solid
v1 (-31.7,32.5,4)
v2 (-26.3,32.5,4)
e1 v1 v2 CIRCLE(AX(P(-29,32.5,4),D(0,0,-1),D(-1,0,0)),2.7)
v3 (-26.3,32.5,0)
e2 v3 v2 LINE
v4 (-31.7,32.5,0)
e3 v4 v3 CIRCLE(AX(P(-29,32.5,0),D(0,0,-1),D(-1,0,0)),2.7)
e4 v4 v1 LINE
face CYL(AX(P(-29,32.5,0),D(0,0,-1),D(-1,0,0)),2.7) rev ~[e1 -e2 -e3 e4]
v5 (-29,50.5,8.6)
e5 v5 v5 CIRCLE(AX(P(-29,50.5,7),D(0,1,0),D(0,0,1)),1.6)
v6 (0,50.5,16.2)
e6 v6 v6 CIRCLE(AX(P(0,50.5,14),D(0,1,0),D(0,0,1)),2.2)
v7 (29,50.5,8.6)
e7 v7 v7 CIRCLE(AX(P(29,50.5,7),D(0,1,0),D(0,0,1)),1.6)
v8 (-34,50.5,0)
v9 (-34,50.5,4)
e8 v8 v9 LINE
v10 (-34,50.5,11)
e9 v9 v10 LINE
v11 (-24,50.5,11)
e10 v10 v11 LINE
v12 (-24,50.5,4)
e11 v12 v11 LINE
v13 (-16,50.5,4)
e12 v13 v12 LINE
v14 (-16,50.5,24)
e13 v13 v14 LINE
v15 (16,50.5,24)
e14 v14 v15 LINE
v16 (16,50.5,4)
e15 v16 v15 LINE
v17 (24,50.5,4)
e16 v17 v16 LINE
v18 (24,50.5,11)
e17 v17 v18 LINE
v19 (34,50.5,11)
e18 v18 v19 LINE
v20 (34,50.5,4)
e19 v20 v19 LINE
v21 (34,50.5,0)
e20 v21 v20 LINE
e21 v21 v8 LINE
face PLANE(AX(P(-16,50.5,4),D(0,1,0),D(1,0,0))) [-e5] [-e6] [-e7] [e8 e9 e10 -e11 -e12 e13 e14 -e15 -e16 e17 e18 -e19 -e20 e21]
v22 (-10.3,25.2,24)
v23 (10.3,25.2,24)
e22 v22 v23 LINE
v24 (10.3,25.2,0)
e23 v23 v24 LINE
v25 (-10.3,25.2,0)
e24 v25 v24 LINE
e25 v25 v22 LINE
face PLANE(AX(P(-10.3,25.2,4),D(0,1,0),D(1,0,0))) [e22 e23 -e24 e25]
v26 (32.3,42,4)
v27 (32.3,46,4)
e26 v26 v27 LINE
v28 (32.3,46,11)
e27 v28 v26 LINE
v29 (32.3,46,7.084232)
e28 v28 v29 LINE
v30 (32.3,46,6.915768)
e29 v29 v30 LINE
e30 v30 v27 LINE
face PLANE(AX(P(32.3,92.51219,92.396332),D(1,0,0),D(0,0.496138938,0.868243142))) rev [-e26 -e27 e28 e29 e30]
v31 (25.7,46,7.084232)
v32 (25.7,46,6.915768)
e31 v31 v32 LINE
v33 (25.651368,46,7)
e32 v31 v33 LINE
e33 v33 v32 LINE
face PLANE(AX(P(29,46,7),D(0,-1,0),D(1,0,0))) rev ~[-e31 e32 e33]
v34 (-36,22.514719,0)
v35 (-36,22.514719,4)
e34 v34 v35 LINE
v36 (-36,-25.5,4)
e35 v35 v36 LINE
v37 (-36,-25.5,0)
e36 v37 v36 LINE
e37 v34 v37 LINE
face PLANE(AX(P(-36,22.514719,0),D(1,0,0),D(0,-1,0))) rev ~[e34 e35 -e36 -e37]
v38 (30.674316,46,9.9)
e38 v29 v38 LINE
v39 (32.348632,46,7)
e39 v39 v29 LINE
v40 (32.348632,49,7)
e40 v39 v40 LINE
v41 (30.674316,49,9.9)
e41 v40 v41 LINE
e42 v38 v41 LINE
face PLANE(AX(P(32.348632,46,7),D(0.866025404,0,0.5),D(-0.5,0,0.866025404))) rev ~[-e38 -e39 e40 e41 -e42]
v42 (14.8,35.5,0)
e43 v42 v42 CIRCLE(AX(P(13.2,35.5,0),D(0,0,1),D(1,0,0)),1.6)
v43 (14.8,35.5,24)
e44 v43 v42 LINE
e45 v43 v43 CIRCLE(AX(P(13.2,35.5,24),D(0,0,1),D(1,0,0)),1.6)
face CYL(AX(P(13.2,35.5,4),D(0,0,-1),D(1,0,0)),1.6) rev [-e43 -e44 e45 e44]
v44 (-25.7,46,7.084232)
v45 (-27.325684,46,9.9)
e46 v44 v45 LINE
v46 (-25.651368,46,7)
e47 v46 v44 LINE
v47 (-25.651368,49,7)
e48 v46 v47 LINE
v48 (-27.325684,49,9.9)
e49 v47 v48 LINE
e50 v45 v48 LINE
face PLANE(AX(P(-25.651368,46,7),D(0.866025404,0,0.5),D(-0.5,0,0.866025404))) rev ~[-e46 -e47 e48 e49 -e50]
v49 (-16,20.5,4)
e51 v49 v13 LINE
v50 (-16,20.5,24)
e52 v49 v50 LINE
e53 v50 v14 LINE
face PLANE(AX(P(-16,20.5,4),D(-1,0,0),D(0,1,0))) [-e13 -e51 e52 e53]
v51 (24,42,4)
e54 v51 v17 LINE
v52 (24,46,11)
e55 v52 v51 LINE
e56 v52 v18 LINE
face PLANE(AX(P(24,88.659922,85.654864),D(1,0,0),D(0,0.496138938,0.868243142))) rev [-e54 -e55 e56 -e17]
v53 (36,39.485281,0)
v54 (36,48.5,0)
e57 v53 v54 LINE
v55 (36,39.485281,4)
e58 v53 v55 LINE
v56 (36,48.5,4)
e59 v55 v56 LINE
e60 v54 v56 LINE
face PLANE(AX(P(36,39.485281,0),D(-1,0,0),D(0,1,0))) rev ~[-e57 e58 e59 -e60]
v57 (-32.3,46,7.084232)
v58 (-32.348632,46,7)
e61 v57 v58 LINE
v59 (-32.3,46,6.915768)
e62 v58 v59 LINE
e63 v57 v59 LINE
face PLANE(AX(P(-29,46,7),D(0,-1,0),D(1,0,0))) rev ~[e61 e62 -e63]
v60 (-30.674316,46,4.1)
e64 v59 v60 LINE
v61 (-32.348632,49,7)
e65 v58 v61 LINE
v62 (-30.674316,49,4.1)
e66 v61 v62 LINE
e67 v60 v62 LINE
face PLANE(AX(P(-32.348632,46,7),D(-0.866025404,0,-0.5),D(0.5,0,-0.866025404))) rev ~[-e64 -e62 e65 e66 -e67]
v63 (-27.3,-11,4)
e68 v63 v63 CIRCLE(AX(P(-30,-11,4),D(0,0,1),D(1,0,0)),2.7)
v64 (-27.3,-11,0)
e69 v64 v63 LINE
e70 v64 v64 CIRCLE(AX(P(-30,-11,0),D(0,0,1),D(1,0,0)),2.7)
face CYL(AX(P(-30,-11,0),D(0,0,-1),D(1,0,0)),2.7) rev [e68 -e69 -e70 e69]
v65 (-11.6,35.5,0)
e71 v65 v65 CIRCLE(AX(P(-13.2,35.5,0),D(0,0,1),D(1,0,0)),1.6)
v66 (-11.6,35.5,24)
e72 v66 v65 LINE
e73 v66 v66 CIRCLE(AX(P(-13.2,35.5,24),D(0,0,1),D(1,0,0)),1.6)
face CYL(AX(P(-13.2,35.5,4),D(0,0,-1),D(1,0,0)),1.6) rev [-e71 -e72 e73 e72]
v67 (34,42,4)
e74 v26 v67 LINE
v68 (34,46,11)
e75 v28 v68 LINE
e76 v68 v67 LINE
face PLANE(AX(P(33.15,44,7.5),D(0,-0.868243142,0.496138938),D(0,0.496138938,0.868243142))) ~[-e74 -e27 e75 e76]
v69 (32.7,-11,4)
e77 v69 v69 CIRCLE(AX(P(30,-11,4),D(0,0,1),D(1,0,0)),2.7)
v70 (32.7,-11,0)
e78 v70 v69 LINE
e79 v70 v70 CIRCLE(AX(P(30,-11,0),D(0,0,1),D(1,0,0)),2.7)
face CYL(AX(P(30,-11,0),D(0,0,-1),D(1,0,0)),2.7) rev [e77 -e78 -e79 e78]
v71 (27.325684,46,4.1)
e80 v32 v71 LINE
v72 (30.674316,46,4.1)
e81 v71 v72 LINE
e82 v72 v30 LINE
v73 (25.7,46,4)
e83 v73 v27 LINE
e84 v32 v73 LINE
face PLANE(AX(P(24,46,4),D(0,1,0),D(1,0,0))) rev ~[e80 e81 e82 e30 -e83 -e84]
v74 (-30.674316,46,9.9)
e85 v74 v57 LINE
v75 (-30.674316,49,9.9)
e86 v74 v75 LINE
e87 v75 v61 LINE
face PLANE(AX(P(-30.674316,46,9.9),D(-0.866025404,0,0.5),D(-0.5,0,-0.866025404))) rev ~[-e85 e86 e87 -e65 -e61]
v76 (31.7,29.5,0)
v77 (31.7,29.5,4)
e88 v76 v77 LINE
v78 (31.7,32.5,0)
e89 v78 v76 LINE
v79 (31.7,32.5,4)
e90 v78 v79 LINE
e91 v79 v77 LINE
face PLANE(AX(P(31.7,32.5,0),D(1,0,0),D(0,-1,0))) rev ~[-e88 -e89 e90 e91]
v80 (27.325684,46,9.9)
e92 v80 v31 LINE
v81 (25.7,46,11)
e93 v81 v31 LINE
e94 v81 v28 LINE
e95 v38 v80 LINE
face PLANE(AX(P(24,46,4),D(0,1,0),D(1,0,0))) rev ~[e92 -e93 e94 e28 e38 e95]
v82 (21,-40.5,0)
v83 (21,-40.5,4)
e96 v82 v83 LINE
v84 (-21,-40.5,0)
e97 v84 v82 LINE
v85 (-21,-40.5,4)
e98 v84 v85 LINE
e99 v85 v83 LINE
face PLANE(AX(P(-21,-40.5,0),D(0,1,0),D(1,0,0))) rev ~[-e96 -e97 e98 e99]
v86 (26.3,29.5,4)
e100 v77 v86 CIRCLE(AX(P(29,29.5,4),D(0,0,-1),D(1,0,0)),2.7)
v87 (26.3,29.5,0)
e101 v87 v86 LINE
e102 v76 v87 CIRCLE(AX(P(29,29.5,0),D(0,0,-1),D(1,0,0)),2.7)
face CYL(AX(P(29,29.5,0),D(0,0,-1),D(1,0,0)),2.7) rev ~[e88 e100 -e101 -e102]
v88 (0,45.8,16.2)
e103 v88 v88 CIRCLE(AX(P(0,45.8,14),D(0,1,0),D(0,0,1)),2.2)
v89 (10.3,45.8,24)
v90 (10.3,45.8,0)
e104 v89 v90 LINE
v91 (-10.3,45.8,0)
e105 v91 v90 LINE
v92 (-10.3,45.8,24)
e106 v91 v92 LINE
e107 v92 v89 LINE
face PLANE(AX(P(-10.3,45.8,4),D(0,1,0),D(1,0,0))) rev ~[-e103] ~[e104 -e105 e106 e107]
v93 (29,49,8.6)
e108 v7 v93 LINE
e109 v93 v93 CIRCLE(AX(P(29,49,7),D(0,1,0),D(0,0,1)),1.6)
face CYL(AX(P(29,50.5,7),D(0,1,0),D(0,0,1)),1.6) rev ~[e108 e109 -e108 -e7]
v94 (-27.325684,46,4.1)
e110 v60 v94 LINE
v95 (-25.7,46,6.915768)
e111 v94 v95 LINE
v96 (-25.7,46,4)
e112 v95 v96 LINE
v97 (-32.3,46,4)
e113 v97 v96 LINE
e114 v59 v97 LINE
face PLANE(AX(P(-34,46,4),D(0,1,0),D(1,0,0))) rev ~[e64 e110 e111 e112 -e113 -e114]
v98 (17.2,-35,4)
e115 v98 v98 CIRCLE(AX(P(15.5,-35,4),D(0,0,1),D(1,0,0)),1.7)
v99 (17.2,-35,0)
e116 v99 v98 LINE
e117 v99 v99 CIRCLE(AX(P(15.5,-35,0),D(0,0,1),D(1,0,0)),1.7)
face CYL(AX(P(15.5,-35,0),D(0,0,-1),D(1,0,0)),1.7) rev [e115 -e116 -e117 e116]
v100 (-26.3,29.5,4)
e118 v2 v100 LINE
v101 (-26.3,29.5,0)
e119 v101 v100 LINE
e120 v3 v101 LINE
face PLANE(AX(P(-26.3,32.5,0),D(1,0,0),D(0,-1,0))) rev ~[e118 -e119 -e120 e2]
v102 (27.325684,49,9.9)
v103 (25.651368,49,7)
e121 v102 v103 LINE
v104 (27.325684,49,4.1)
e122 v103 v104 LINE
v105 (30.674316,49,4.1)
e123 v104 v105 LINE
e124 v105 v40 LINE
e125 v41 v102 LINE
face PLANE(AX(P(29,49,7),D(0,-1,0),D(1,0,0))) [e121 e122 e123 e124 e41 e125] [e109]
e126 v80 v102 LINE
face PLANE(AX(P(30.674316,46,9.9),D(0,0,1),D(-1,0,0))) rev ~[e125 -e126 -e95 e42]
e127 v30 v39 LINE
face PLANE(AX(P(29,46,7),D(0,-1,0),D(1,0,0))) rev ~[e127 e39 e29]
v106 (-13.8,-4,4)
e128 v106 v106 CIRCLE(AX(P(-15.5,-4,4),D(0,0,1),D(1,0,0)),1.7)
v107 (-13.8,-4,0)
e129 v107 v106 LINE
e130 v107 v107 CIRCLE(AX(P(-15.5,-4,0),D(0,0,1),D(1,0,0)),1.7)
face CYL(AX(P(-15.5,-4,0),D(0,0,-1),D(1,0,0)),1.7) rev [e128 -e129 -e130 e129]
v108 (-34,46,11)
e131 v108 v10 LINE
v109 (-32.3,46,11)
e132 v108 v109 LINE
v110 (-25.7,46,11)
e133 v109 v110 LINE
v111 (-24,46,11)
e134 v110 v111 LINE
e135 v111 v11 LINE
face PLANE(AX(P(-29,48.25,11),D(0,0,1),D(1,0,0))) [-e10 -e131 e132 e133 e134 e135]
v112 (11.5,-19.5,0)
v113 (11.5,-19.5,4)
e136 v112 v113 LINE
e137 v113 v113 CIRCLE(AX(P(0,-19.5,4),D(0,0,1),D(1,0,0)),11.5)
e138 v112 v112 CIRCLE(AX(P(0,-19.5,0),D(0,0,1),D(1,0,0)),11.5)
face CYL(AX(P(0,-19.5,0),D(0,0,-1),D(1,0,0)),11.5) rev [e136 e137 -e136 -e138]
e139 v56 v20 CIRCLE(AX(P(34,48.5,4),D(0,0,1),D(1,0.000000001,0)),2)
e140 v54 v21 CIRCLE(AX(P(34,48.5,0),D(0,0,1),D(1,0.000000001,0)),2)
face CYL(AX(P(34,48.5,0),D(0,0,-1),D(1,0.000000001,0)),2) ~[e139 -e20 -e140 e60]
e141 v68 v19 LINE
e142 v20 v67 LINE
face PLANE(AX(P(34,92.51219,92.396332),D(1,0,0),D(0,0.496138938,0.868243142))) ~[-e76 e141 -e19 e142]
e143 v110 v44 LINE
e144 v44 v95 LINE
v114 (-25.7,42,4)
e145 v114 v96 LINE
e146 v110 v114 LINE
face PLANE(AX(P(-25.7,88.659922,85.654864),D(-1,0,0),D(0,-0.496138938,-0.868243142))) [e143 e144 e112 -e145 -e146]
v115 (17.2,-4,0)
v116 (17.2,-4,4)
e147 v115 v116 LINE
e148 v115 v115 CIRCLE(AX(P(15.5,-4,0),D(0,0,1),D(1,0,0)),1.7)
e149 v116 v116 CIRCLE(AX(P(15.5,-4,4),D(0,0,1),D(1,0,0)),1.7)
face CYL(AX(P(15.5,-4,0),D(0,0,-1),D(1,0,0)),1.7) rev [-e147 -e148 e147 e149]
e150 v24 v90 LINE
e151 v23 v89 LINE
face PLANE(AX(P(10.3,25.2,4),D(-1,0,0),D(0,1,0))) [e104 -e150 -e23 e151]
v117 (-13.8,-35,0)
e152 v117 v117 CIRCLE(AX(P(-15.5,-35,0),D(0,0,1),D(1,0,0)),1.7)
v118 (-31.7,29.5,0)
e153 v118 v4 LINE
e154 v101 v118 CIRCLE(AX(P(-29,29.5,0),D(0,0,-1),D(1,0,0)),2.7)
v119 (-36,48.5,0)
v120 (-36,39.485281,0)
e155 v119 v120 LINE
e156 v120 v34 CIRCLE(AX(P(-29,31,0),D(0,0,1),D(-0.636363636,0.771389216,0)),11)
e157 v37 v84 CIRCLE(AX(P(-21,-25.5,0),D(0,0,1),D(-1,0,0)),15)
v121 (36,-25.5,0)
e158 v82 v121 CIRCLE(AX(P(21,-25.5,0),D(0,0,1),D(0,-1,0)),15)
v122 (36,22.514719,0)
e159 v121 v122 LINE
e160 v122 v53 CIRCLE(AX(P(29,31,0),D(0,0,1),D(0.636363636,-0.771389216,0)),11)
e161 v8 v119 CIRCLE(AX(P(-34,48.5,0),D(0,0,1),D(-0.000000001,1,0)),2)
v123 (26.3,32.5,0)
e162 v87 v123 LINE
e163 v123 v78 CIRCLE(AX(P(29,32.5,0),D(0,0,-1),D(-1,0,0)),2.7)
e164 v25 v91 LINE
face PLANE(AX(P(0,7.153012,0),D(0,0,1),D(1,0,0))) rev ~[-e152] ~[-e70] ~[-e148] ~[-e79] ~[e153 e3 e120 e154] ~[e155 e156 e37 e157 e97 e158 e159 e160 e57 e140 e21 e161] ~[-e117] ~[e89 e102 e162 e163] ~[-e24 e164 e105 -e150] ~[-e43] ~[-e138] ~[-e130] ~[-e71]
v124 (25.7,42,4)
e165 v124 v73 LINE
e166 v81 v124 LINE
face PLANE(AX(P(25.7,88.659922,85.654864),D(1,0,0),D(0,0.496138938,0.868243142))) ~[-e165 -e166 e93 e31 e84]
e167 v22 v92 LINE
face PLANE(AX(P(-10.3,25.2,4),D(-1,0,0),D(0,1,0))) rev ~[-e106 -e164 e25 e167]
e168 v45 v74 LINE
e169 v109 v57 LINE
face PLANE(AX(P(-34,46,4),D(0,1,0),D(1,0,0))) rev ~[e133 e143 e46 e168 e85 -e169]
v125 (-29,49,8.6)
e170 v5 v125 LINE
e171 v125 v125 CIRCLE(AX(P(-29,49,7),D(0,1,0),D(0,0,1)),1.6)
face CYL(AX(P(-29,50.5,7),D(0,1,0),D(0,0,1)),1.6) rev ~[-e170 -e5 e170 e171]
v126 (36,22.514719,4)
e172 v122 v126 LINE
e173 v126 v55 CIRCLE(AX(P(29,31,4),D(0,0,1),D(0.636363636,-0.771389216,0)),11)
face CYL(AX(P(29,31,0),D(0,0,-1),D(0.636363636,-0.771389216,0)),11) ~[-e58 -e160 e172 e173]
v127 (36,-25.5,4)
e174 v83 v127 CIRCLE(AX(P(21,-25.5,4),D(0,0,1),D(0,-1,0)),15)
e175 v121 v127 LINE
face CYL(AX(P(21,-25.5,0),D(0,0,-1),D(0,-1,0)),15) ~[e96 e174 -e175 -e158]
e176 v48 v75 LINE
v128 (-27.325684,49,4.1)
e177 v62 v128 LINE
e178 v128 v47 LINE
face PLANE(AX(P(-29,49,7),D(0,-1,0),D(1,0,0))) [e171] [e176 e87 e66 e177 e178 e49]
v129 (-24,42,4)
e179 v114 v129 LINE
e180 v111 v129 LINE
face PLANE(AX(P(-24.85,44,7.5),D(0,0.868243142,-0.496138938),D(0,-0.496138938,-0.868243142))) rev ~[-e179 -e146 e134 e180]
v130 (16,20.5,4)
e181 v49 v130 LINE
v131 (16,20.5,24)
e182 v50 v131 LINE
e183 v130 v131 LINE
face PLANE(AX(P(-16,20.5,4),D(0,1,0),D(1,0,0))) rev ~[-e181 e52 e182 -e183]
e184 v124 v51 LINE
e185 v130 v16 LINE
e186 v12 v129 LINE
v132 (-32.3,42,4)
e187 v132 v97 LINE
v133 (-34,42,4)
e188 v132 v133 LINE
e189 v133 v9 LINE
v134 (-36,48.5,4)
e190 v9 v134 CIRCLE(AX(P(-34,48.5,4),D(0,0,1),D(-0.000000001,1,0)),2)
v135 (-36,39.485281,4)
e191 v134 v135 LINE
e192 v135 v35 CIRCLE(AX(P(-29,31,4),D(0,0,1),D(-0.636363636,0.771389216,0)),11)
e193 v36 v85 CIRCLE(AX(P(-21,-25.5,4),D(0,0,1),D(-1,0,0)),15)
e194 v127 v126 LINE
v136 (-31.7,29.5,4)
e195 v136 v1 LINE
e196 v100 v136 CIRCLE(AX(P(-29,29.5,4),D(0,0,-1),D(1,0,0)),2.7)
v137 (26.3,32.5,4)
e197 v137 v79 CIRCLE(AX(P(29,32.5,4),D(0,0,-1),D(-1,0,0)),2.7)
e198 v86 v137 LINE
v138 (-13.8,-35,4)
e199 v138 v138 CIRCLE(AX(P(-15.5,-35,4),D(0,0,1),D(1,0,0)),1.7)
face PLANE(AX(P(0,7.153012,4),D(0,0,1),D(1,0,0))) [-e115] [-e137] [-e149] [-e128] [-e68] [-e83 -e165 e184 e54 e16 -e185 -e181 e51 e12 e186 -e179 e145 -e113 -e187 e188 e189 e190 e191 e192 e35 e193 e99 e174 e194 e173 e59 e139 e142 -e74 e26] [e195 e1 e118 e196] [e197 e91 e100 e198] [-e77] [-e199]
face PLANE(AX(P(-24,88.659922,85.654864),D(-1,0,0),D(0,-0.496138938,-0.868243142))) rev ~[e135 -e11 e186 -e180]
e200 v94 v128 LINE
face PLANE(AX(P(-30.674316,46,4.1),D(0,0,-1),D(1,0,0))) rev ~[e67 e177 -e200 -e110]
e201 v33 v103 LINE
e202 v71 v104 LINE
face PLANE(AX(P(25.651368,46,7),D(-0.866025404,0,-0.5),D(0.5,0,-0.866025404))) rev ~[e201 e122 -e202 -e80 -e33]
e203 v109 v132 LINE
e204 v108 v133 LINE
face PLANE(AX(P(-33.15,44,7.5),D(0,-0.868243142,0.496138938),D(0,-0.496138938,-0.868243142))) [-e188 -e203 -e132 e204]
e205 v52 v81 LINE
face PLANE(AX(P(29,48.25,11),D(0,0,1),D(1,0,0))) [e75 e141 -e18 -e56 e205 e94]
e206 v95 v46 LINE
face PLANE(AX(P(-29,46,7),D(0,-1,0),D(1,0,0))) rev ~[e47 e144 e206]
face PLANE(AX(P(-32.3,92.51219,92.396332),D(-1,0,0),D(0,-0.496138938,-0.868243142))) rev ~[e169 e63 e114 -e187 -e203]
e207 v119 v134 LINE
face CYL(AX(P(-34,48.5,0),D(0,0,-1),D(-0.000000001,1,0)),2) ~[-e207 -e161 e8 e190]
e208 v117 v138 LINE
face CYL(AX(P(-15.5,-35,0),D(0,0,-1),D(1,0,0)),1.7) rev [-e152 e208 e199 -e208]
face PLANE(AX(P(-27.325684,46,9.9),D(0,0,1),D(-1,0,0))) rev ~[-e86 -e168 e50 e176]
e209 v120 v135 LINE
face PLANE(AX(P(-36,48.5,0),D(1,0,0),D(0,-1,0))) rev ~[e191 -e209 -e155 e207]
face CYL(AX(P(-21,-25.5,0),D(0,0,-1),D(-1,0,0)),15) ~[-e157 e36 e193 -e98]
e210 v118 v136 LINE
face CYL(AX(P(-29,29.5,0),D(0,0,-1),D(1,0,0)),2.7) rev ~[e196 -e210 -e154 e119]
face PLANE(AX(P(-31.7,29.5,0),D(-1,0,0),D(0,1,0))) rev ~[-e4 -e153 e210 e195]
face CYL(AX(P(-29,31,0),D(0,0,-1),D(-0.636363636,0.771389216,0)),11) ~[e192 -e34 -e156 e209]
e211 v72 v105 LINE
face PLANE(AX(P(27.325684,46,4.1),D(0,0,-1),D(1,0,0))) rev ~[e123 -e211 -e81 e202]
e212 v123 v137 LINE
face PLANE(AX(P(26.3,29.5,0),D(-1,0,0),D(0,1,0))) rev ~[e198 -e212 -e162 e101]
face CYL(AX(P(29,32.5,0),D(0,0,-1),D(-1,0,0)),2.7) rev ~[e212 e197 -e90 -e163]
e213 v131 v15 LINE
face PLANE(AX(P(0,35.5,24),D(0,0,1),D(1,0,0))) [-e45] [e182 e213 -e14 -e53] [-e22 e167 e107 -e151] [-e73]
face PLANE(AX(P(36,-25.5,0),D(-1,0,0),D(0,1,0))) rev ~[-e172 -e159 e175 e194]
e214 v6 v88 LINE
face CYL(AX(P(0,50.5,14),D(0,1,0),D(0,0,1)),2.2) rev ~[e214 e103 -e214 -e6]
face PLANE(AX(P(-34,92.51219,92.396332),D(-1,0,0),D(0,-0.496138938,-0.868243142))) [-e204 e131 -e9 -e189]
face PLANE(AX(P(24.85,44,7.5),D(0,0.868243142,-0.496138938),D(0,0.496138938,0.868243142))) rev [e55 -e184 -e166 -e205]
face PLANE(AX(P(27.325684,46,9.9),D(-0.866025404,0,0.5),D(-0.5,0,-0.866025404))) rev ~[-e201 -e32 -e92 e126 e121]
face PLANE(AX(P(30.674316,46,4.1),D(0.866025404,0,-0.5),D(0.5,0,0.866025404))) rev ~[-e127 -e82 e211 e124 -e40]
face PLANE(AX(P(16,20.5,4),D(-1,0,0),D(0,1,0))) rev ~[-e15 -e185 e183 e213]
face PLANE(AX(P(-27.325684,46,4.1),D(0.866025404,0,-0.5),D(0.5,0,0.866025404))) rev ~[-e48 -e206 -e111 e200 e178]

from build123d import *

# Parameters (mm, degrees)
SKETCH_1_R          = 1.7
SKETCH_1_R_2        = 11.5
SKETCH_1_R_3        = 2.7
SKETCH_1_R_4        = 1.6
SKETCH_1_W          = 20.6
SKETCH_1_H          = 20.6
EXTRUDE_1_DEPTH     = 4
EXTRUDE_START       = 4
SKETCH_1_3_W        = 10
SKETCH_1_3_H        = 4.5
EXTRUDE_2_DEPTH     = 7
SKETCH_1_4_W        = 32
SKETCH_1_4_H        = 30
SKETCH_1_4_R        = 1.6
SKETCH_1_4_W_2      = 20.6
SKETCH_1_4_H_2      = 20.6
EXTRUDE_3_DEPTH     = 20
RIB_1_REACH         = 94.748
SKETCH_3_WALL_W     = 195.558888446
SKETCH_3_WALL_H     = 1.7
RIB_2_REACH         = 86.984
SKETCH_4_WALL_W     = 180.029901728
SKETCH_4_WALL_H     = 1.7
CUT_EXTRUDE_1_REACH = 104.259
SKETCH_5_R          = 2.2
SKETCH_5_R_2        = 1.6
CUT_EXTRUDE_2_DEPTH = 3


with BuildPart() as part:
    # 草图1 → 凸台-拉伸1 (new body)
    with BuildSketch(Plane.XY):
        with BuildLine():
            ThreePointArc((36, 48.5), (35.414213562, 49.914213562), (34, 50.5))
            Line((34, 50.5), (-34, 50.5))
            ThreePointArc((-34, 50.5), (-35.414213562, 49.914213562), (-36, 48.5))
            Line((-36, 48.5), (-36, 39.485281374))
            ThreePointArc((-36, 39.485281374), (-40, 31), (-36, 22.514718626))
            Line((-36, 22.514718626), (-36, -25.5))
            ThreePointArc((-36, -25.5), (-31.606601718, -36.106601718), (-21, -40.5))
            Line((-21, -40.5), (21, -40.5))
            ThreePointArc((21, -40.5), (31.606601718, -36.106601718), (36, -25.5))
            Line((36, -25.5), (36, 22.514718626))
            ThreePointArc((36, 22.514718626), (40, 31), (36, 39.485281374))
            Line((36, 39.485281374), (36, 48.5))
        make_face()
        with Locations((-15.5, -35)):
            Circle(SKETCH_1_R, mode=Mode.SUBTRACT)
        with Locations((15.5, -35)):
            Circle(SKETCH_1_R, mode=Mode.SUBTRACT)
        with Locations((0, -19.5)):
            Circle(SKETCH_1_R_2, mode=Mode.SUBTRACT)
        with Locations((-30, -11)):
            Circle(SKETCH_1_R_3, mode=Mode.SUBTRACT)
        with Locations((-15.5, -4)):
            Circle(SKETCH_1_R, mode=Mode.SUBTRACT)
        with Locations((30, -11)):
            Circle(SKETCH_1_R_3, mode=Mode.SUBTRACT)
        with Locations((15.5, -4)):
            Circle(SKETCH_1_R, mode=Mode.SUBTRACT)
        with BuildLine():
            Line((-26.3, 32.5), (-26.3, 29.5))
            ThreePointArc((-26.3, 29.5), (-29, 26.8), (-31.7, 29.5))
            Line((-31.7, 29.5), (-31.7, 32.5))
            ThreePointArc((-31.7, 32.5), (-29, 35.2), (-26.3, 32.5))
        make_face(mode=Mode.SUBTRACT)
        with BuildLine():
            Line((31.7, 32.5), (31.7, 29.5))
            ThreePointArc((31.7, 29.5), (29, 26.8), (26.3, 29.5))
            Line((26.3, 29.5), (26.3, 32.5))
            ThreePointArc((26.3, 32.5), (29, 35.2), (31.7, 32.5))
        make_face(mode=Mode.SUBTRACT)
        with Locations((13.2, 35.5)):
            Circle(SKETCH_1_R_4, mode=Mode.SUBTRACT)
        with Locations((0, 35.5)):
            Rectangle(SKETCH_1_W, SKETCH_1_H, mode=Mode.SUBTRACT)
        with Locations((-13.2, 35.5)):
            Circle(SKETCH_1_R_4, mode=Mode.SUBTRACT)
    extrude(amount=EXTRUDE_1_DEPTH)

    # 草图1<3> → 凸台-拉伸2 (add)
    with BuildSketch(Plane.XY.offset(EXTRUDE_START)):
        with Locations((-29, 48.25)):
            Rectangle(SKETCH_1_3_W, SKETCH_1_3_H)
        with Locations((29, 48.25)):
            Rectangle(SKETCH_1_3_W, SKETCH_1_3_H)
    extrude(amount=EXTRUDE_2_DEPTH)

    # 草图1<4> → 凸台-拉伸3 (add)
    with BuildSketch(Plane.XY.offset(EXTRUDE_START)):
        with Locations((0, 35.5)):
            Rectangle(SKETCH_1_4_W, SKETCH_1_4_H)
        with Locations((-13.2, 35.5)):
            Circle(SKETCH_1_4_R, mode=Mode.SUBTRACT)
        with Locations((0, 35.5)):
            Rectangle(SKETCH_1_4_W_2, SKETCH_1_4_H_2, mode=Mode.SUBTRACT)
        with Locations((13.2, 35.5)):
            Circle(SKETCH_1_4_R, mode=Mode.SUBTRACT)
    extrude(amount=EXTRUDE_3_DEPTH)

    # 草图3 wall → 筋1 (add, up to next)
    with BuildSketch(Plane(origin=(-34, 44, 7.5), x_dir=(0, -0.496138938357, -0.868243142124), z_dir=(0, -0.868243142124, 0.496138938357)), mode=Mode.PRIVATE) as rib_1_sk1:
        with Locations((0, 0.85)):
            Rectangle(SKETCH_3_WALL_W, SKETCH_3_WALL_H)
    rib_1_tool1 = extrude(rib_1_sk1.sketch, amount=-RIB_1_REACH, mode=Mode.PRIVATE) - part.part
    rib_1 = rib_1_tool1.solids().sort_by_distance((-34, 44, 7.5))[0]
    add(rib_1)

    # 草图4 wall → 筋2 (add, up to next)
    with BuildSketch(Plane(origin=(-24, 44, 7.5), x_dir=(0, -0.496138938357, -0.868243142124), z_dir=(0, 0.868243142124, -0.496138938357)), mode=Mode.PRIVATE) as rib_2_sk1:
        with Locations((0, 0.85)):
            Rectangle(SKETCH_4_WALL_W, SKETCH_4_WALL_H)
    rib_2_tool1 = extrude(rib_2_sk1.sketch, amount=RIB_2_REACH, mode=Mode.PRIVATE) - part.part
    rib_2 = rib_2_tool1.solids().sort_by_distance((-24, 44, 7.5))[0]
    add(rib_2)

    # 镜向1: 筋1, 筋2 across plane
    add(rib_1.mirror(Plane(origin=(0, 0, 0), x_dir=(0, 0, 1), z_dir=(1, 0, 0))))
    add(rib_2.mirror(Plane(origin=(0, 0, 0), x_dir=(0, 0, 1), z_dir=(1, 0, 0))))

    # 草图5 → 切除-拉伸1 (cut, up to next)
    with BuildSketch(Plane(origin=(0, 50.5, 0), x_dir=(1, 0, 0), z_dir=(0, 1, 0)), mode=Mode.PRIVATE) as cut_extrude_1_sk1:
        with Locations(Location((0, -14, 0), (0, 0, 270))):
            Circle(SKETCH_5_R)
    cut_extrude_1_tool1 = extrude(cut_extrude_1_sk1.sketch, amount=-CUT_EXTRUDE_1_REACH, mode=Mode.PRIVATE) & part.part
    # 草图5 → 切除-拉伸1 (cut, up to next)
    with BuildSketch(Plane(origin=(0, 50.5, 0), x_dir=(1, 0, 0), z_dir=(0, 1, 0)), mode=Mode.PRIVATE) as cut_extrude_1_sk2:
        with Locations(Location((29, -7, 0), (0, 0, 270))):
            Circle(SKETCH_5_R_2)
    cut_extrude_1_tool2 = extrude(cut_extrude_1_sk2.sketch, amount=-CUT_EXTRUDE_1_REACH, mode=Mode.PRIVATE) & part.part
    # 草图5 → 切除-拉伸1 (cut, up to next)
    with BuildSketch(Plane(origin=(0, 50.5, 0), x_dir=(1, 0, 0), z_dir=(0, 1, 0)), mode=Mode.PRIVATE) as cut_extrude_1_sk3:
        with Locations(Location((-29, -7, 0), (0, 0, 270))):
            Circle(SKETCH_5_R_2)
    cut_extrude_1_tool3 = extrude(cut_extrude_1_sk3.sketch, amount=-CUT_EXTRUDE_1_REACH, mode=Mode.PRIVATE) & part.part
    add(cut_extrude_1_tool1.solids().sort_by_distance((0, 50.5, 14))[0], mode=Mode.SUBTRACT)
    add(cut_extrude_1_tool2.solids().sort_by_distance((29, 50.5, 7))[0], mode=Mode.SUBTRACT)
    add(cut_extrude_1_tool3.solids().sort_by_distance((-29, 50.5, 7))[0], mode=Mode.SUBTRACT)

    # 草图6 → 切除-拉伸2 (cut)
    with BuildSketch(Plane.XZ.offset(-46)):
        Polygon((-27.325684219, 9.9), (-30.674315781, 9.9), (-32.348631561, 7), (-30.674315781, 4.1), (-27.325684219, 4.1), (-25.651368439, 7), align=None)
        Polygon((32.348631561, 7), (30.674315781, 9.9), (27.325684219, 9.9), (25.651368439, 7), (27.325684219, 4.1), (30.674315781, 4.1), align=None)
    extrude(amount=-CUT_EXTRUDE_2_DEPTH, mode=Mode.SUBTRACT)


solid = part.part
